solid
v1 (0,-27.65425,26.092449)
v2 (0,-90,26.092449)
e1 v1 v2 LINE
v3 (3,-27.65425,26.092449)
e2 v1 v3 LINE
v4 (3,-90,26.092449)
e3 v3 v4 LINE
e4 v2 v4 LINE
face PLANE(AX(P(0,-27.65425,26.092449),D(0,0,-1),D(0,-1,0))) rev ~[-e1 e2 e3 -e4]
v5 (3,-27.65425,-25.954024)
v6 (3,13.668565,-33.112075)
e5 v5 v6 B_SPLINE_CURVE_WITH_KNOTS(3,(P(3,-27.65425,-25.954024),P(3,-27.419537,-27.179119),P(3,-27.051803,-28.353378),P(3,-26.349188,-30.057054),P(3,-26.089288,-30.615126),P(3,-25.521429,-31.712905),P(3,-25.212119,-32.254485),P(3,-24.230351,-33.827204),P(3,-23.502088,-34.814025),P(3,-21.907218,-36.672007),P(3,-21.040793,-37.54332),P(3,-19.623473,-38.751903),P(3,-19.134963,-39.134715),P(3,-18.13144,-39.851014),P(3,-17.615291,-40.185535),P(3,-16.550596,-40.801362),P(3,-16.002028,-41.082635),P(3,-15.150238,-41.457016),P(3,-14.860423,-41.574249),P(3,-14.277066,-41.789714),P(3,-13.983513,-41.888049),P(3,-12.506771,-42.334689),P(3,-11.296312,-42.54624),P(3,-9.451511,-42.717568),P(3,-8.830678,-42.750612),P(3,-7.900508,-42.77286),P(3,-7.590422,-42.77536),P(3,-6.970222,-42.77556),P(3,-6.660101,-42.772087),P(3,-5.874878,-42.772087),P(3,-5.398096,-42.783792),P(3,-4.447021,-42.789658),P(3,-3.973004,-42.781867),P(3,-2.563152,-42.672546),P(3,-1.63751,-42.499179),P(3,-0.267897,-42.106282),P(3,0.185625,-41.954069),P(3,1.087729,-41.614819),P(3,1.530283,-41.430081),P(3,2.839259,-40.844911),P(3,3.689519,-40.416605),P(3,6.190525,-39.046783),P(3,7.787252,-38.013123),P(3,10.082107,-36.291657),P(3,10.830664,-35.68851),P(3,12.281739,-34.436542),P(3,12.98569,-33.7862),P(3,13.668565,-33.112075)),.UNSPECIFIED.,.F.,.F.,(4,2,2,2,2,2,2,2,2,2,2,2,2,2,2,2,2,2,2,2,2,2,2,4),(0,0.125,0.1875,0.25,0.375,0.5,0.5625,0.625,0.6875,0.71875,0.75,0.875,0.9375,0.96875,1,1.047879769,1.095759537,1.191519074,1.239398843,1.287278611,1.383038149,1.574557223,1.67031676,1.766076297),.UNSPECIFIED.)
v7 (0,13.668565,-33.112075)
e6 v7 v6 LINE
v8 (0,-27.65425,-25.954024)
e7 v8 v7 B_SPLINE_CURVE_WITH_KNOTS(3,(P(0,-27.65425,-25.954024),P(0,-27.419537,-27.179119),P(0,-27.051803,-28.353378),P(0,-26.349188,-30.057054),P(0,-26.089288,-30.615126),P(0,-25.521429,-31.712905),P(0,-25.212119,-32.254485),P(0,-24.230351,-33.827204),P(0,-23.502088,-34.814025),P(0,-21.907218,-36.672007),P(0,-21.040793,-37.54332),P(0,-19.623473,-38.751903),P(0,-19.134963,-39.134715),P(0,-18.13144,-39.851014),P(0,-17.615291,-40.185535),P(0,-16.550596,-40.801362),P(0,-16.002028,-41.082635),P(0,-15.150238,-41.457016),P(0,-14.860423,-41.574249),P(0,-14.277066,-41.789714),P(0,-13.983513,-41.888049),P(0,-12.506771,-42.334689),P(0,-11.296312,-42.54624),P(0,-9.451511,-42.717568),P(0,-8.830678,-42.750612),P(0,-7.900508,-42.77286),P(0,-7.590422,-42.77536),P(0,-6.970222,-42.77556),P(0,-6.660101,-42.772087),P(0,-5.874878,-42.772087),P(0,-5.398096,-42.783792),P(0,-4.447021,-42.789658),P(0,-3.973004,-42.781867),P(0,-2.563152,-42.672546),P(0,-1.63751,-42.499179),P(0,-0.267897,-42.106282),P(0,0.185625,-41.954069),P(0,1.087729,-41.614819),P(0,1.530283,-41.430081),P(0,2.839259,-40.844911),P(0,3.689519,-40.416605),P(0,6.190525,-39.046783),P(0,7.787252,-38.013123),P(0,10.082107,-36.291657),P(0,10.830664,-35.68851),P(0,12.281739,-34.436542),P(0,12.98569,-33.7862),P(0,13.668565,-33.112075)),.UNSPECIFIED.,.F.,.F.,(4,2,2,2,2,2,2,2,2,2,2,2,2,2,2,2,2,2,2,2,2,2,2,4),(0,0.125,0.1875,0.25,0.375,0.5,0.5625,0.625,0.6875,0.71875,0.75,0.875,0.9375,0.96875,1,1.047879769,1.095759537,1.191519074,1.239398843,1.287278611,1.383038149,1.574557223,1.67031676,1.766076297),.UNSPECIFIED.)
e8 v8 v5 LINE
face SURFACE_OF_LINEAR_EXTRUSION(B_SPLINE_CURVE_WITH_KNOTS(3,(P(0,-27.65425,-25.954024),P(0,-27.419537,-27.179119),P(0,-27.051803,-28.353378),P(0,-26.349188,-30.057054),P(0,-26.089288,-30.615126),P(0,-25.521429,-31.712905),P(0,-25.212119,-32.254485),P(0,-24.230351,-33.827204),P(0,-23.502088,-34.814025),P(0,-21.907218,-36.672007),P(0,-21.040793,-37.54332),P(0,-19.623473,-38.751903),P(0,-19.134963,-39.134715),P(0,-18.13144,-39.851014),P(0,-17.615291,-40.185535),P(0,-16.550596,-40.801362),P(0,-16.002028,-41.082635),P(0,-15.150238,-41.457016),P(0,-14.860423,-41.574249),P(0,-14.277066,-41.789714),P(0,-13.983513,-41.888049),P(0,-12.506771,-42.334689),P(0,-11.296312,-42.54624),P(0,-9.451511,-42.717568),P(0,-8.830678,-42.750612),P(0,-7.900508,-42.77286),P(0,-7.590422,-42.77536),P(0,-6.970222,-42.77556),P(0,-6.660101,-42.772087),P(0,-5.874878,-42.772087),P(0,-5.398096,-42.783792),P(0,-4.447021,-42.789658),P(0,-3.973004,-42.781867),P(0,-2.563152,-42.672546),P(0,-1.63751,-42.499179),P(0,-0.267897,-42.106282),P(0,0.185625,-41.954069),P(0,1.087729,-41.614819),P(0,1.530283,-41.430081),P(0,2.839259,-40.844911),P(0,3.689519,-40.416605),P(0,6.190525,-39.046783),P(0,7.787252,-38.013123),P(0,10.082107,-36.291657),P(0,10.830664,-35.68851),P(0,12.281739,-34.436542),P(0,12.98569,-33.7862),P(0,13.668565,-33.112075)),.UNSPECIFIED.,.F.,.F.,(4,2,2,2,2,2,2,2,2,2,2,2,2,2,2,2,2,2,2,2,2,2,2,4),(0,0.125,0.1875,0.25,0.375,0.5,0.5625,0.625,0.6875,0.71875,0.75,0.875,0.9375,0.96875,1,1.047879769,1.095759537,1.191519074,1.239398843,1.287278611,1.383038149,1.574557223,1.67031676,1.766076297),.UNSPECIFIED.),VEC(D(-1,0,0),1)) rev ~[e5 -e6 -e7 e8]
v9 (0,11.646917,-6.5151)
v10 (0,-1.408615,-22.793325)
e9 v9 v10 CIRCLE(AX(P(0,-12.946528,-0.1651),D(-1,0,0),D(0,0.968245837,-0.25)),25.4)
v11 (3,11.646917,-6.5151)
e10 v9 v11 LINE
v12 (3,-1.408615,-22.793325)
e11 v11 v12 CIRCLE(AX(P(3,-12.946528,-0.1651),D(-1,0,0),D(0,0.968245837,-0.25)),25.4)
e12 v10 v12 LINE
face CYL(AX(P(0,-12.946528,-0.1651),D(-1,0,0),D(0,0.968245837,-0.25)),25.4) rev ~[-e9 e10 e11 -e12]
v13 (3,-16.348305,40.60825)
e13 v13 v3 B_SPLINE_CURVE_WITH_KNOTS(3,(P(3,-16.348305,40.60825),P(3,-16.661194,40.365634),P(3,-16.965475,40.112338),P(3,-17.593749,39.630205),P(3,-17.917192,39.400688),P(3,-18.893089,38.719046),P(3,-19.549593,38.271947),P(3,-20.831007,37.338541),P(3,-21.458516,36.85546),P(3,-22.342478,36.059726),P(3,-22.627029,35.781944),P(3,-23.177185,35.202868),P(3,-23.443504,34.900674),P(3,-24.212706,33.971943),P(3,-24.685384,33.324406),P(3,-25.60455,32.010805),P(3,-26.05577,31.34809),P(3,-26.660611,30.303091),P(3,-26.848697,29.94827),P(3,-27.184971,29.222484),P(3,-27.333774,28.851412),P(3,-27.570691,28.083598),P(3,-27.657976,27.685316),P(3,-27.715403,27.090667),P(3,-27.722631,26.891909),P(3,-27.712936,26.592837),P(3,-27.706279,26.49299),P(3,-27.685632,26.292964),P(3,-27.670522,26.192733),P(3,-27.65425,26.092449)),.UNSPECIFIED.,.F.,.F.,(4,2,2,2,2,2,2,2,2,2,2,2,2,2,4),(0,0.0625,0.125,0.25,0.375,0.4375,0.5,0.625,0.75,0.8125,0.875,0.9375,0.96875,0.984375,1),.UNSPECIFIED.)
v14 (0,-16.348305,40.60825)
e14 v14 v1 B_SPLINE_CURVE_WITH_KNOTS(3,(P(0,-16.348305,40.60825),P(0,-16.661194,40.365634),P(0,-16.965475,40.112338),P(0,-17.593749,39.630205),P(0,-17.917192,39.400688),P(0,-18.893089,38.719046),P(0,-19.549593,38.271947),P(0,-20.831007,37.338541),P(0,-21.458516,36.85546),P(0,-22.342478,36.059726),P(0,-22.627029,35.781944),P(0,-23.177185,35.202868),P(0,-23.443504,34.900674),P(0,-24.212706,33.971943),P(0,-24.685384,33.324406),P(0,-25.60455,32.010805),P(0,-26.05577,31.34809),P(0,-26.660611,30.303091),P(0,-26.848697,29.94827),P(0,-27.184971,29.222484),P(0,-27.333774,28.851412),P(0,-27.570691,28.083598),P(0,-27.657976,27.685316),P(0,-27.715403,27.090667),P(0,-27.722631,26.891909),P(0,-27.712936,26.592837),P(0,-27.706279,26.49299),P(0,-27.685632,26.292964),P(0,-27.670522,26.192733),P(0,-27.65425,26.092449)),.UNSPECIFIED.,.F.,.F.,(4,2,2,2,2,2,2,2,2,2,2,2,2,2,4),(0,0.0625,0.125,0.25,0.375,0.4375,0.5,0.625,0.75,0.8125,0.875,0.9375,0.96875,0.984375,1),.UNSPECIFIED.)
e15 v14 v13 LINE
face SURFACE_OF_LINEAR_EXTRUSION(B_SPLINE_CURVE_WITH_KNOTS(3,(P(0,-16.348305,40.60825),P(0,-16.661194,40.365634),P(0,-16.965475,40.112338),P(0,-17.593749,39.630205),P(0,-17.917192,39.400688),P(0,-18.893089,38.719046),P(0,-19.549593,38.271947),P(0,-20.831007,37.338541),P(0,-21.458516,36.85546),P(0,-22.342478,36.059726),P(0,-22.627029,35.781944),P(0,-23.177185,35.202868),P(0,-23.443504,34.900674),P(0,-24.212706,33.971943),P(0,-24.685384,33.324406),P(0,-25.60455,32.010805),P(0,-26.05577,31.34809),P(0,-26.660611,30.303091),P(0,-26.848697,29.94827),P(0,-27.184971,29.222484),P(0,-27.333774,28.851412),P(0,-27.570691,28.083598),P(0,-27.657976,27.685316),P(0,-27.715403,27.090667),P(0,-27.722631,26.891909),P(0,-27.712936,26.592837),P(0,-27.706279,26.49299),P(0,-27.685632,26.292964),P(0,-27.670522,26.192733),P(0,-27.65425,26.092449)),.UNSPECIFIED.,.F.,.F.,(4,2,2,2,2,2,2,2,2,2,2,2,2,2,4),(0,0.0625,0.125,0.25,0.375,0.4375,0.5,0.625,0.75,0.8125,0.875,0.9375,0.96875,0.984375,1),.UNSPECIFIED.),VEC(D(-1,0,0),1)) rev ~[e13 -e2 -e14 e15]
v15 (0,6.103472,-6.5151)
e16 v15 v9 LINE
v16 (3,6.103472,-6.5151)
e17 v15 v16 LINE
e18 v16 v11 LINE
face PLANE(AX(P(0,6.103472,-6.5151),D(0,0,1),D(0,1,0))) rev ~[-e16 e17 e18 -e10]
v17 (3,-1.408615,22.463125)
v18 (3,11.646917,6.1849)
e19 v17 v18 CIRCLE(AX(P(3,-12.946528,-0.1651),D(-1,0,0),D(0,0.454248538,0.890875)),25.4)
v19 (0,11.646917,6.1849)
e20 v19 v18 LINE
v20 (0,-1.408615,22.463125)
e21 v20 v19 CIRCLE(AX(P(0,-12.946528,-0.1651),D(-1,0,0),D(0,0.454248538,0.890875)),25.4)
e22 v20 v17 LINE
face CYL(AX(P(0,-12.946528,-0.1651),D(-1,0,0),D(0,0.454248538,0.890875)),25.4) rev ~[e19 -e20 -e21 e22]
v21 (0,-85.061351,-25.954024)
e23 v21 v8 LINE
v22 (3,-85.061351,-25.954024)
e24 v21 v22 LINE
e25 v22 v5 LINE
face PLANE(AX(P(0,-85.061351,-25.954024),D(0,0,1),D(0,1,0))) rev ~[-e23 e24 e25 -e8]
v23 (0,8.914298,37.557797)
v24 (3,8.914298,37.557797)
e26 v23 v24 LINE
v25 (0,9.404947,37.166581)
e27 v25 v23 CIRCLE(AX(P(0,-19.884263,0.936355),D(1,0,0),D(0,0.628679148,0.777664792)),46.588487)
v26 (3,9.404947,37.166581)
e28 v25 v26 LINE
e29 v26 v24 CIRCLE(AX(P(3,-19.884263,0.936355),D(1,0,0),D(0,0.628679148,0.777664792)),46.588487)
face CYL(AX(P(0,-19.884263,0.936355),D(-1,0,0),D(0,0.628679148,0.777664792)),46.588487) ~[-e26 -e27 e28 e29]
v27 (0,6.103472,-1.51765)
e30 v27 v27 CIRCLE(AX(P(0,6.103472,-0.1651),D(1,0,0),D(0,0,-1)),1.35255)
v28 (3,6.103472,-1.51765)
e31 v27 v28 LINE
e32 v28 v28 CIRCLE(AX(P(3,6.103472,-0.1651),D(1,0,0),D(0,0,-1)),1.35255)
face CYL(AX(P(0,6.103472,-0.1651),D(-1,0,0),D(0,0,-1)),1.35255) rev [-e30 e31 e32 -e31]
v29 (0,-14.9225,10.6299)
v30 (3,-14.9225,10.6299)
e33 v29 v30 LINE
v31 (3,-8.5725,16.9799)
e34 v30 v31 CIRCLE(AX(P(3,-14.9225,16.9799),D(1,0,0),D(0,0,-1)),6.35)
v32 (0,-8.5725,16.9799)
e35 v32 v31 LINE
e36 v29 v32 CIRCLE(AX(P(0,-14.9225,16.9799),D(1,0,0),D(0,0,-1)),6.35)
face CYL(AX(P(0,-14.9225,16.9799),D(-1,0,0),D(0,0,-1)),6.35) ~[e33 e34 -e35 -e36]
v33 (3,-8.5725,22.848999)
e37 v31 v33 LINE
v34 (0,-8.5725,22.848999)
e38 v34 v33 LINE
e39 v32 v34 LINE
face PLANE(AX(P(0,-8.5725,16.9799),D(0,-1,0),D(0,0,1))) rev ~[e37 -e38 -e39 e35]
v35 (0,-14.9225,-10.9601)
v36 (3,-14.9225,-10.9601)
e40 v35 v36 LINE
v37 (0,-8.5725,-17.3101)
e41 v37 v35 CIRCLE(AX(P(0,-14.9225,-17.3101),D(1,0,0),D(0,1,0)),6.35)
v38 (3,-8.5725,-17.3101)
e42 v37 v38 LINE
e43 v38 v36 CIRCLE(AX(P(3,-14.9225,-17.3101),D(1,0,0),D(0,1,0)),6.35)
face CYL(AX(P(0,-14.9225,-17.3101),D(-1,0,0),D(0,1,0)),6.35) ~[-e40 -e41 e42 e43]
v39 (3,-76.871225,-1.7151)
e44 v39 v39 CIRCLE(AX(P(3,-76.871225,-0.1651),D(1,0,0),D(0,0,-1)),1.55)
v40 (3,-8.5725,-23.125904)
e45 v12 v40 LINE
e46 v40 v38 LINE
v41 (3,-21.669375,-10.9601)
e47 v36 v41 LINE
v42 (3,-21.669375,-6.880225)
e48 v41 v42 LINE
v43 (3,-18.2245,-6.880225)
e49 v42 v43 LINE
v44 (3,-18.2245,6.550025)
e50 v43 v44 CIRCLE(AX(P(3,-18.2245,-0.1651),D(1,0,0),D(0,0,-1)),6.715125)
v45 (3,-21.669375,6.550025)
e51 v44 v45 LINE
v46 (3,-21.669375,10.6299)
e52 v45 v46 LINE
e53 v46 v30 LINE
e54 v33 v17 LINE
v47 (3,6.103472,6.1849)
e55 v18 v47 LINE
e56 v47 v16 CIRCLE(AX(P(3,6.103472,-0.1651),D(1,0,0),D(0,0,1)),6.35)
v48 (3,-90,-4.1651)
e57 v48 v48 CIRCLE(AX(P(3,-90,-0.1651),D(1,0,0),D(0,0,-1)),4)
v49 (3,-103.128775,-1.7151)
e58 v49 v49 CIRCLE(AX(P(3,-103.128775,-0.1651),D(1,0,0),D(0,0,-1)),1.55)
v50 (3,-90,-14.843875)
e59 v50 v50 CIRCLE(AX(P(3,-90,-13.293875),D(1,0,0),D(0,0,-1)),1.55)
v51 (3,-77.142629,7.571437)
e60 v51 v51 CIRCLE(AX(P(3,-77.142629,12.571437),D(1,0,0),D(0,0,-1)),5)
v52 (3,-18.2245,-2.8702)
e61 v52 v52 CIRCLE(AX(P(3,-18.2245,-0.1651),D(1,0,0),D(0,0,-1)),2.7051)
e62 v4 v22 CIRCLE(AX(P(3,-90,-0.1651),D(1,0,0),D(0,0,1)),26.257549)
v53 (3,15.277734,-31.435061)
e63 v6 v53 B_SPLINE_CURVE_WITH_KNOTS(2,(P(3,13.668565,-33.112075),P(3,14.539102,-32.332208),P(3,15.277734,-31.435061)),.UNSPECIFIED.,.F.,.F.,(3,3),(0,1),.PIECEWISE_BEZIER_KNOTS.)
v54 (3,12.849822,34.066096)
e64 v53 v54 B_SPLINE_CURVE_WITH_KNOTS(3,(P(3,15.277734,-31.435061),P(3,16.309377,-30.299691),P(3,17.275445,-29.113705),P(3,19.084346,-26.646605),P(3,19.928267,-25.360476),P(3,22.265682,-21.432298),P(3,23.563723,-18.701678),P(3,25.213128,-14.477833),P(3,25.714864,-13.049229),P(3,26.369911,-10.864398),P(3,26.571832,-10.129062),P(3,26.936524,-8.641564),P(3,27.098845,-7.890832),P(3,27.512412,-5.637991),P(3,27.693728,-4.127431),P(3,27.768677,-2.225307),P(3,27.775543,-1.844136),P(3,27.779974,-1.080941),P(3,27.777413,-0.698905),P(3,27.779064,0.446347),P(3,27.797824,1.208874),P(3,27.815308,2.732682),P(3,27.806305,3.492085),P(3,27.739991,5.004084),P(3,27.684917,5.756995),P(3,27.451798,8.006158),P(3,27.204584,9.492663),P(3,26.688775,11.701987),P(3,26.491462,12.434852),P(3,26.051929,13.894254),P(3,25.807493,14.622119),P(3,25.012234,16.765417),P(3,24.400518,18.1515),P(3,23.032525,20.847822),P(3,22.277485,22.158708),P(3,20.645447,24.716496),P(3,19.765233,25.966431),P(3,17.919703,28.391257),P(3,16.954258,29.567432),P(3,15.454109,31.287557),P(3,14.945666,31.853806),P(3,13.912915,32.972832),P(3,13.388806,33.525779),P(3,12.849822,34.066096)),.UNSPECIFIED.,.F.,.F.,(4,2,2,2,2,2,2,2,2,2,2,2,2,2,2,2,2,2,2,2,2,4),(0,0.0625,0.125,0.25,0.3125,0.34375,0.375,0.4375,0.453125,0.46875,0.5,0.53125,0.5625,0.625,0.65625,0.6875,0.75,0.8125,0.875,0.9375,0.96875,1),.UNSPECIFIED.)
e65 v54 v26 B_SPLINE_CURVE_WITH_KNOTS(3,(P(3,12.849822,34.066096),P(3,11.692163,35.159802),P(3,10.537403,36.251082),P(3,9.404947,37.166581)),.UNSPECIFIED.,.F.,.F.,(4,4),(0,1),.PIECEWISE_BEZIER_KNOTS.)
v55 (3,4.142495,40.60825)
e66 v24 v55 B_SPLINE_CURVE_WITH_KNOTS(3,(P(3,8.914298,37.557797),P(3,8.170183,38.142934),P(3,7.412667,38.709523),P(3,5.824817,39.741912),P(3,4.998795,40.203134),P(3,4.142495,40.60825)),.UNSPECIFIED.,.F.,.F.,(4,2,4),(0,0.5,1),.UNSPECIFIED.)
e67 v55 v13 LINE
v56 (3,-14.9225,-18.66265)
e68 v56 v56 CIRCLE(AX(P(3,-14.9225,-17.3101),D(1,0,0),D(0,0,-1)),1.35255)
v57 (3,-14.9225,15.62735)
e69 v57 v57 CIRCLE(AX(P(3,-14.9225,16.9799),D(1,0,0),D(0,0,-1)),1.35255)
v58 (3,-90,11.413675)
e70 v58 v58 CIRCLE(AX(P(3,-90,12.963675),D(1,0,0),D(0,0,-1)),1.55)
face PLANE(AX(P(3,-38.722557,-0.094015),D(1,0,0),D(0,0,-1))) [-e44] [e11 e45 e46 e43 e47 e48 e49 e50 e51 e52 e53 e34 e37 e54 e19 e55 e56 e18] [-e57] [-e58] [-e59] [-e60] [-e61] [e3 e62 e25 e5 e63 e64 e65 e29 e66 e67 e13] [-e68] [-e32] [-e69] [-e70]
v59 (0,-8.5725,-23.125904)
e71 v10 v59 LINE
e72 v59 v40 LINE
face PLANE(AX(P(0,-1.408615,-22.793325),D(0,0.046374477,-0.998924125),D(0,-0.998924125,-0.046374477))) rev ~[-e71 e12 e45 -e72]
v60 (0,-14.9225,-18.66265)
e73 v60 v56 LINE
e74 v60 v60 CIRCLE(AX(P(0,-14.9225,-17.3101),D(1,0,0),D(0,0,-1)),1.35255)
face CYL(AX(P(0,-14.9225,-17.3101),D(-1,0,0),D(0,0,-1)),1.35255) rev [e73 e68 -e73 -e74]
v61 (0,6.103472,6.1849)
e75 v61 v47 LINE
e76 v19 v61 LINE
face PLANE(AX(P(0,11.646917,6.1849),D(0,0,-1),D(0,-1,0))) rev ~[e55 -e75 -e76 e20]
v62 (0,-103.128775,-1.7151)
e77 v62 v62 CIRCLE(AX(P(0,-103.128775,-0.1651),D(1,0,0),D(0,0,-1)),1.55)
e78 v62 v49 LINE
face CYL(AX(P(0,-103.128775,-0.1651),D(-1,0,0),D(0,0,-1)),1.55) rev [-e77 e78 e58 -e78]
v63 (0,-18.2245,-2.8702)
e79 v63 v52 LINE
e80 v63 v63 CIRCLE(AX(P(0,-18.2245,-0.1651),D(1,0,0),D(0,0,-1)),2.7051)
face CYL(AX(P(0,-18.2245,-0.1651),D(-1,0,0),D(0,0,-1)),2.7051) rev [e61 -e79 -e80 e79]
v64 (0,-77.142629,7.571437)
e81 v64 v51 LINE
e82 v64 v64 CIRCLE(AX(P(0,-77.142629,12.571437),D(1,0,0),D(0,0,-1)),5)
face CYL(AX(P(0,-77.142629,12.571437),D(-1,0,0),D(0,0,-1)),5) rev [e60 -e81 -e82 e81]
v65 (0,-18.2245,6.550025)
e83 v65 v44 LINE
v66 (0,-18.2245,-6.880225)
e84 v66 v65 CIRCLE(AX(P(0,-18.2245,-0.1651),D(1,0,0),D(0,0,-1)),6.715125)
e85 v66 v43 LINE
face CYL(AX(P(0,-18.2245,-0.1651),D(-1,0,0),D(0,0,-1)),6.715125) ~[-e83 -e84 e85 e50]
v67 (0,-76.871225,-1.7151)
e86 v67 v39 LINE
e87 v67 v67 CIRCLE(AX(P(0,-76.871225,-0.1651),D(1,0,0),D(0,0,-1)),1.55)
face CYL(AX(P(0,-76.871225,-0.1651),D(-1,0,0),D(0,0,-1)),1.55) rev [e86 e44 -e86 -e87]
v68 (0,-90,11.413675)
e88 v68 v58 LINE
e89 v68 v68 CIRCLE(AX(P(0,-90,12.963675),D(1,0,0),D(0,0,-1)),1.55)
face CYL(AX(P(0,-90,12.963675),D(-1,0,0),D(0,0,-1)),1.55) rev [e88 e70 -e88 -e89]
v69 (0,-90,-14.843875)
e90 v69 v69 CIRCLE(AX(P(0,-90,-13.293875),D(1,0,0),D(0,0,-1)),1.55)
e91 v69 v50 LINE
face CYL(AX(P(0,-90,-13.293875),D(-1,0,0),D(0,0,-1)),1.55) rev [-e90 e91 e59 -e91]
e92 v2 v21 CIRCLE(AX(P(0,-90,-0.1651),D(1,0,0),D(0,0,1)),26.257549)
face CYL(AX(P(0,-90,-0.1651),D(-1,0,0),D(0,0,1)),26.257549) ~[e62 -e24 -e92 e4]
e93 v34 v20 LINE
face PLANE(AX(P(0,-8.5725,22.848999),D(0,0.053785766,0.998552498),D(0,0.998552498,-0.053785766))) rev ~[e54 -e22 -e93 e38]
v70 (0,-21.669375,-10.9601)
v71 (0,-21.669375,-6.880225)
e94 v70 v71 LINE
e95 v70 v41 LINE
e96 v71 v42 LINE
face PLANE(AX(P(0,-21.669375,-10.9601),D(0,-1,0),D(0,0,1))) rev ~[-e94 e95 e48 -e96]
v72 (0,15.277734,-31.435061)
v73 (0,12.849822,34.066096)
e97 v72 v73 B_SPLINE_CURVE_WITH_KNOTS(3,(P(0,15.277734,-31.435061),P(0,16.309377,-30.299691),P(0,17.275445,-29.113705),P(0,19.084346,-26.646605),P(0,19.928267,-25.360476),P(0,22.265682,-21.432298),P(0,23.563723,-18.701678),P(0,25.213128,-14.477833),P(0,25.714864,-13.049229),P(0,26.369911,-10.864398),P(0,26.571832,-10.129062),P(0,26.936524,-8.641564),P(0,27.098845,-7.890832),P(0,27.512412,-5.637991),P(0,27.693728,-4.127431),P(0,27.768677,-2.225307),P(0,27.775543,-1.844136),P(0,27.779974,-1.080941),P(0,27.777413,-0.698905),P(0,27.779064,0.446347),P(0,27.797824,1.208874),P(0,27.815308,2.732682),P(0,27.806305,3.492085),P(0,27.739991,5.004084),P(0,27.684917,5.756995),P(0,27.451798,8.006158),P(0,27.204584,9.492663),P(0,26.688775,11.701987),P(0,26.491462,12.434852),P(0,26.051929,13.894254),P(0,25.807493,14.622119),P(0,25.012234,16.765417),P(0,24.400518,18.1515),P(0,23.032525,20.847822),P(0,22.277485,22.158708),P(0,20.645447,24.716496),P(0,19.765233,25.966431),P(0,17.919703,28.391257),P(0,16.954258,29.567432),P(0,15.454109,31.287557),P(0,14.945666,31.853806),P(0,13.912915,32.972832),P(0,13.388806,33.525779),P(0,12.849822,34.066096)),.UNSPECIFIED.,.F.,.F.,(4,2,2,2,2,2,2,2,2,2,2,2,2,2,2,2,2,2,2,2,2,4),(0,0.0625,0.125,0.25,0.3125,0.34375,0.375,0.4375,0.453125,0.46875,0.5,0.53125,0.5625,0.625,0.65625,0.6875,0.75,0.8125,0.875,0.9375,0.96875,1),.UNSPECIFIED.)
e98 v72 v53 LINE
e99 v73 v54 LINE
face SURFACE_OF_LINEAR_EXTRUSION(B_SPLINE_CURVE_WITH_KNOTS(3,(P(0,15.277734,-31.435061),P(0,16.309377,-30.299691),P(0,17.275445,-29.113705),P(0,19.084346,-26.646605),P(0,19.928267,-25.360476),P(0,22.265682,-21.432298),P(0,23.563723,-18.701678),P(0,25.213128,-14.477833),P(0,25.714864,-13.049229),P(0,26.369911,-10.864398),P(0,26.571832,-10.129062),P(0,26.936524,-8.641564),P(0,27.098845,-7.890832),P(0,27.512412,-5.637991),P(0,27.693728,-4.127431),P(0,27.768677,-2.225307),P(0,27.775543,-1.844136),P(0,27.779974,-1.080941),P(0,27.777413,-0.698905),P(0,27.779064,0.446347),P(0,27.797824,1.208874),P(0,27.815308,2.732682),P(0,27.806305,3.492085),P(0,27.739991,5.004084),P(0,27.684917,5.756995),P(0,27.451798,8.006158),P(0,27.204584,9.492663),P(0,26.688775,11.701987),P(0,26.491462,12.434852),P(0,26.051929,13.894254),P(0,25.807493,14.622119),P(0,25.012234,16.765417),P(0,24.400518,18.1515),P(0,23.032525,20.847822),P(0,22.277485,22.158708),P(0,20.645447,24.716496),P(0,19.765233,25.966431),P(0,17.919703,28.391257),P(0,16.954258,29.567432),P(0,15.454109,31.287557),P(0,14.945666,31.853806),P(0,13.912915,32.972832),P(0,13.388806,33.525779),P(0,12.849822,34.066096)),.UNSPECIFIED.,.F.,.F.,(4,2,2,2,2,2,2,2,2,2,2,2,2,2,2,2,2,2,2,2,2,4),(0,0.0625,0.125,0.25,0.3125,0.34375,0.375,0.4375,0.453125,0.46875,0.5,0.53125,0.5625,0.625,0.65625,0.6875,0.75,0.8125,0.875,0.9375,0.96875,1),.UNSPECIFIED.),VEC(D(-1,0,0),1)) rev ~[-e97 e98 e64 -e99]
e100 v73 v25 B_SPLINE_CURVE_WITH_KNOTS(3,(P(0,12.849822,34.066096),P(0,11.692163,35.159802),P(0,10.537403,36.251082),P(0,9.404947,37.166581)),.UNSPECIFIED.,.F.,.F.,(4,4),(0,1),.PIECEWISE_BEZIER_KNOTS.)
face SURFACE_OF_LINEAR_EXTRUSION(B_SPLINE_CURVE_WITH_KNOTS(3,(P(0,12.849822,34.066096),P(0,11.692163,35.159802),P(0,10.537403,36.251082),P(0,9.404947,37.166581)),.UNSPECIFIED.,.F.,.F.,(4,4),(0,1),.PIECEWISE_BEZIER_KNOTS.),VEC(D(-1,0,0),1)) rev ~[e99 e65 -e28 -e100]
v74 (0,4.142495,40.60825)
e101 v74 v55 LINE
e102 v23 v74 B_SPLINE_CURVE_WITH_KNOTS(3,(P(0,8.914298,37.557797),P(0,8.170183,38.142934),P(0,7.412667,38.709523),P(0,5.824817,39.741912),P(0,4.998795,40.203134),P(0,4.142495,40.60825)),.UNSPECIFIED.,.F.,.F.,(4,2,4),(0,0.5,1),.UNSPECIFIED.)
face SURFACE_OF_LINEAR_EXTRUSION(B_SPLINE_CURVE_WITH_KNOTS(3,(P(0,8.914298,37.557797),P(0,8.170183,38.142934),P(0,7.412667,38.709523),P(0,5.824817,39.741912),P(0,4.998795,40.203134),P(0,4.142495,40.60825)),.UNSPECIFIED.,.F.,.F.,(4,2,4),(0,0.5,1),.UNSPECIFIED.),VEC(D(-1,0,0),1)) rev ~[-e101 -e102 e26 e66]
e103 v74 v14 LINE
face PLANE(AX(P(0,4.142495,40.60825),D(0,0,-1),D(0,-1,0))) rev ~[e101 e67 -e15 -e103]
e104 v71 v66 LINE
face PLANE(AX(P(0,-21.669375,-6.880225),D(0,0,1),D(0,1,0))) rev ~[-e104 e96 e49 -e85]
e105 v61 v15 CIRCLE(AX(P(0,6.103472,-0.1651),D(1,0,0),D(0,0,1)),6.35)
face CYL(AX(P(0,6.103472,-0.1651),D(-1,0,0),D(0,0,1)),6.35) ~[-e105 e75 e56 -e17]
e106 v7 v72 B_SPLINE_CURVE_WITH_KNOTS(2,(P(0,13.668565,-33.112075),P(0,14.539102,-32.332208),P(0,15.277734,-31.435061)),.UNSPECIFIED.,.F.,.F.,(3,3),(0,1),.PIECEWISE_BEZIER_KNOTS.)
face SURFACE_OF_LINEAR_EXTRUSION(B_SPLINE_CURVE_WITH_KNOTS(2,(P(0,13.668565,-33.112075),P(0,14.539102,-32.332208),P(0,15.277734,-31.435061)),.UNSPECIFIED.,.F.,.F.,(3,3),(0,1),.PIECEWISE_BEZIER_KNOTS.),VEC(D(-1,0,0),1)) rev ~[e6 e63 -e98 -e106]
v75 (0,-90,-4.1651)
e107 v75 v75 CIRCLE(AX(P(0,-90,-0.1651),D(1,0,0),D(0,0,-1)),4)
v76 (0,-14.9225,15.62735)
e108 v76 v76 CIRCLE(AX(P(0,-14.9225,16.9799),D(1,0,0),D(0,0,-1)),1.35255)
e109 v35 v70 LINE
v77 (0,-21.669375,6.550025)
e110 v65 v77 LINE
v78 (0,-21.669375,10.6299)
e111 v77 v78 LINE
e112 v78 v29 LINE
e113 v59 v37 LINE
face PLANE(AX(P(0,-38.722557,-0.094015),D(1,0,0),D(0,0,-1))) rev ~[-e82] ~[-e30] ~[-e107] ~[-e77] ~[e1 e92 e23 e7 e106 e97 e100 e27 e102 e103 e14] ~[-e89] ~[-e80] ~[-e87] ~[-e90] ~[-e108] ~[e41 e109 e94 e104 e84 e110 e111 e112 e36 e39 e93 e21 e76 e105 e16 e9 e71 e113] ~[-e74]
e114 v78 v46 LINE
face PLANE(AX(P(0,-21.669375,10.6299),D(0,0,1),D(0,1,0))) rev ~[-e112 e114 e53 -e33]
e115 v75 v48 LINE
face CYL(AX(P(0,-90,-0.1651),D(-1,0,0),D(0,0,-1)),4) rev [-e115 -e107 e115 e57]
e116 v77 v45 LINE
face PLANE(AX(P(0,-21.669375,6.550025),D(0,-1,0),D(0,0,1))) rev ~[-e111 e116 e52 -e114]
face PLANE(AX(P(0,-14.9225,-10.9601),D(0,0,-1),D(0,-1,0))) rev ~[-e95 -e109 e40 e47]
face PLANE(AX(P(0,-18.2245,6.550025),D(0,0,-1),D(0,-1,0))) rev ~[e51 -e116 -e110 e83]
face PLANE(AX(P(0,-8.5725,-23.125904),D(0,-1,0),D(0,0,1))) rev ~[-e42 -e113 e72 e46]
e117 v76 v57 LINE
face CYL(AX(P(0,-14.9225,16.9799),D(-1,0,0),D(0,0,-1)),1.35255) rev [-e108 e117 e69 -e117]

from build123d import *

# Parameters (mm, degrees)
ESQUISSE4_R        = 1.55
ESQUISSE4_R_2      = 4
ESQUISSE4_R_3      = 5
ESQUISSE4_R_4      = 1.35255
ESQUISSE4_R_5      = 2.7051
BOSS_EXTRU_3_DEPTH = 3


with BuildPart() as part:
    # Esquisse4 → Boss.-Extru.3 (new body)
    with BuildSketch(Plane(origin=(0, 0, 0), x_dir=(0, 0, -1), z_dir=(1, 0, 0))):
        with BuildLine():
            Line((-40.60825, -12.7), (-40.60825, -16.144875))
            Line((-40.60825, -16.144875), (-40.60825, -16.348305132))
            add(Edge.make_bspline(
                [(-40.60825, -16.348305132), (-40.365634485, -16.661193605), (-40.112338127, -16.96547542), (-39.63020507, -17.593748723), (-39.400688032, -17.917191992), (-38.719045939, -18.893089111), (-38.271947044, -19.549593057), (-37.338540998, -20.831006808), (-36.855460104, -21.458516341), (-36.059725811, -22.342477591), (-35.781944124, -22.627029047), (-35.202868212, -23.17718548), (-34.900674383, -23.443503751), (-33.971943166, -24.212706181), (-33.324405882, -24.685383849), (-32.010805282, -25.604549776), (-31.348089528, -26.055770333), (-30.303090708, -26.660610546), (-29.948270215, -26.848696892), (-29.222483721, -27.184971005), (-28.851412004, -27.333773538), (-28.083597976, -27.570691368), (-27.685315555, -27.657976057), (-27.090666934, -27.715403346), (-26.891908645, -27.722631025), (-26.592836888, -27.712936491), (-26.492990431, -27.706278992), (-26.292963936, -27.685632014), (-26.192732932, -27.670522326), (-26.092449031, -27.65425)],
                knots=[0, 0, 0, 0, 0.0625, 0.0625, 0.125, 0.125, 0.25, 0.25, 0.375, 0.375, 0.4375, 0.4375, 0.5, 0.5, 0.625, 0.625, 0.75, 0.75, 0.8125, 0.8125, 0.875, 0.875, 0.9375, 0.9375, 0.96875, 0.96875, 0.984375, 0.984375, 1, 1, 1, 1], degree=3))
            Line((-26.092449031, -27.65425), (-26.092449031, -90))
            ThreePointArc((-26.092449031, -90), (2.64551669, -116.14013034), (25.954024412, -85.06135051))
            Line((25.954024412, -85.06135051), (25.954024412, -27.65425))
            add(Edge.make_bspline(
                [(25.954024412, -27.65425), (27.179118802, -27.419536533), (28.353377808, -27.051803075), (30.05705383, -26.34918771), (30.615126485, -26.089288473), (31.712904721, -25.521429223), (32.254485024, -25.212118815), (33.827204106, -24.230350536), (34.814025463, -23.502087852), (36.672007358, -21.907218093), (37.543320305, -21.040793316), (38.751902771, -19.623473398), (39.134714509, -19.134962989), (39.851014333, -18.131439591), (40.185535135, -17.615291382), (40.801362362, -16.550595558), (41.082635497, -16.002027673), (41.457015911, -15.150237789), (41.574249194, -14.86042264), (41.789713906, -14.277065554), (41.888049248, -13.98351322), (42.334688534, -12.506770959), (42.546239761, -11.296312151), (42.717568356, -9.451511475), (42.750611649, -8.83067761), (42.772859866, -7.900507946), (42.775360474, -7.590422151), (42.77555993, -6.970221998), (42.772087252, -6.66010067), (42.772087252, -6.35)],
                knots=[0, 0, 0, 0, 0.125, 0.125, 0.1875, 0.1875, 0.25, 0.25, 0.375, 0.375, 0.5, 0.5, 0.5625, 0.5625, 0.625, 0.625, 0.6875, 0.6875, 0.71875, 0.71875, 0.75, 0.75, 0.875, 0.875, 0.9375, 0.9375, 0.96875, 0.96875, 1, 1, 1, 1], degree=3))
            add(Edge.make_bspline(
                [(42.772087252, -6.35), (42.772087252, -5.874878454), (42.783792207, -5.398095979), (42.789657917, -4.447020546), (42.781867467, -3.973004463), (42.672546396, -2.563152451), (42.499179213, -1.637510108), (42.106282017, -0.267897459), (41.954068536, 0.185625042), (41.614819435, 1.087728793), (41.430081297, 1.530283034), (40.844911495, 2.839259084), (40.416604561, 3.689518781), (39.046783283, 6.190525131), (38.013123304, 7.787251584), (36.291657446, 10.082106977), (35.688509547, 10.830664164), (34.43654182, 12.281738953), (33.786199883, 12.985690235), (33.112075, 13.668565083)],
                knots=[0, 0, 0, 0, 0.0625, 0.0625, 0.125, 0.125, 0.25, 0.25, 0.3125, 0.3125, 0.375, 0.375, 0.5, 0.5, 0.75, 0.75, 0.875, 0.875, 1, 1, 1, 1], degree=3))
            add(Edge.make_bspline(
                [(33.112075, 13.668565083), (32.332207955, 14.539101946), (31.435060987, 15.277734234)],
                knots=[0, 0, 0, 1, 1, 1], degree=2))
            add(Edge.make_bspline(
                [(31.435060987, 15.277734234), (30.299691041, 16.309376592), (29.113704516, 17.275445235), (26.646604831, 19.084346085), (25.360475951, 19.928267183), (21.432297769, 22.265681686), (18.70167828, 23.563722979), (14.477833082, 25.213127628), (13.049229105, 25.71486416), (10.864398428, 26.369911185), (10.129061703, 26.571832136), (8.64156399, 26.936524394), (7.890831572, 27.098844789), (5.637990782, 27.512412208), (4.127431428, 27.693727696), (2.225306731, 27.768676851), (1.844136038, 27.775542931), (1.080940786, 27.779973661), (0.698904769, 27.777413484), (-0.446346689, 27.779064109), (-1.208874123, 27.797823926), (-2.732682239, 27.815308111), (-3.492085471, 27.806304753), (-5.004084105, 27.739990771), (-5.756994671, 27.684916502), (-8.006157922, 27.451797552), (-9.492662784, 27.204583891), (-11.701987236, 26.688775277), (-12.434852331, 26.491461598), (-13.894254142, 26.051929085), (-14.622118919, 25.807493497), (-16.765417144, 25.01223388), (-18.151500369, 24.400517874), (-20.847821735, 23.032525232), (-22.158708475, 22.277484827), (-24.716496252, 20.645447351), (-25.966430559, 19.7652326), (-28.39125747, 17.919703458), (-29.567431908, 16.954258357), (-31.287557173, 15.454109034), (-31.85380584, 14.945666112), (-32.972832423, 13.91291508), (-33.52577931, 13.388805977), (-34.066096443, 12.849822171)],
                knots=[0, 0, 0, 0, 0.0625, 0.0625, 0.125, 0.125, 0.25, 0.25, 0.3125, 0.3125, 0.34375, 0.34375, 0.375, 0.375, 0.4375, 0.4375, 0.453125, 0.453125, 0.46875, 0.46875, 0.5, 0.5, 0.53125, 0.53125, 0.5625, 0.5625, 0.625, 0.625, 0.65625, 0.65625, 0.6875, 0.6875, 0.75, 0.75, 0.8125, 0.8125, 0.875, 0.875, 0.9375, 0.9375, 0.96875, 0.96875, 1, 1, 1, 1], degree=3))
            add(Edge.make_bspline(
                [(-34.066096443, 12.849822171), (-35.159801618, 11.692162737), (-36.251081621, 10.53740284), (-37.166580532, 9.404947171)],
                knots=[0, 0, 0, 0, 1, 1, 1, 1], degree=3))
            ThreePointArc((-37.166580532, 9.404947171), (-37.363014685, 9.160281042), (-37.557796616, 8.914297524))
            add(Edge.make_bspline(
                [(-37.557796616, 8.914297524), (-38.142933539, 8.170182683), (-38.709522845, 7.412667282), (-39.741912272, 5.824816801), (-40.203133529, 4.998794666), (-40.60825, 4.142494902)],
                knots=[0, 0, 0, 0, 0.5, 0.5, 1, 1, 1, 1], degree=3))
            Line((-40.60825, 4.142494902), (-40.60825, -12.7))
        make_face()
        with Locations((0.1651, -103.128774516)):
            Circle(ESQUISSE4_R, mode=Mode.SUBTRACT)
        with Locations((-12.963674516, -90)):
            Circle(ESQUISSE4_R, mode=Mode.SUBTRACT)
        with Locations((0.1651, -90)):
            Circle(ESQUISSE4_R_2, mode=Mode.SUBTRACT)
        with Locations((-12.571436854, -77.1426291)):
            Circle(ESQUISSE4_R_3, mode=Mode.SUBTRACT)
        with Locations((0.1651, -76.871225484)):
            Circle(ESQUISSE4_R, mode=Mode.SUBTRACT)
        with Locations((13.293874516, -90)):
            Circle(ESQUISSE4_R, mode=Mode.SUBTRACT)
        with Locations((-16.9799, -14.9225)):
            Circle(ESQUISSE4_R_4, mode=Mode.SUBTRACT)
        with Locations((0.1651, -18.2245)):
            Circle(ESQUISSE4_R_5, mode=Mode.SUBTRACT)
        with BuildLine():
            Line((-6.1849, 11.646916554), (-6.1849, 6.103472306))
            ThreePointArc((-6.1849, 6.103472306), (0.1651, -0.246527694), (6.5151, 6.103472306))
            Line((6.5151, 6.103472306), (6.5151, 11.646916554))
            ThreePointArc((6.5151, 11.646916554), (16.056799278, 6.86795928), (22.793325, -1.408614826))
            Line((22.793325, -1.408614826), (23.12590424, -8.5725))
            Line((23.12590424, -8.5725), (17.3101, -8.5725))
            ThreePointArc((17.3101, -8.5725), (12.819971939, -10.432371939), (10.9601, -14.9225))
            Line((10.9601, -14.9225), (10.9601, -21.669375))
            Line((10.9601, -21.669375), (6.880225, -21.669375))
            Line((6.880225, -21.669375), (6.880225, -18.2245))
            ThreePointArc((6.880225, -18.2245), (0.1651, -11.509375), (-6.550025, -18.2245))
            Line((-6.550025, -18.2245), (-6.550025, -21.669375))
            Line((-6.550025, -21.669375), (-10.6299, -21.669375))
            Line((-10.6299, -21.669375), (-10.6299, -14.9225))
            ThreePointArc((-10.6299, -14.9225), (-12.489771939, -10.432371939), (-16.9799, -8.5725))
            Line((-16.9799, -8.5725), (-22.848998606, -8.5725))
            Line((-22.848998606, -8.5725), (-22.463125, -1.408614826))
            ThreePointArc((-22.463125, -1.408614826), (-15.726599278, 6.86795928), (-6.1849, 11.646916554))
        make_face(mode=Mode.SUBTRACT)
        with Locations((0.1651, 6.103472306)):
            Circle(ESQUISSE4_R_4, mode=Mode.SUBTRACT)
        with Locations((17.3101, -14.9225)):
            Circle(ESQUISSE4_R_4, mode=Mode.SUBTRACT)
    extrude(amount=BOSS_EXTRU_3_DEPTH)


solid = part.part
